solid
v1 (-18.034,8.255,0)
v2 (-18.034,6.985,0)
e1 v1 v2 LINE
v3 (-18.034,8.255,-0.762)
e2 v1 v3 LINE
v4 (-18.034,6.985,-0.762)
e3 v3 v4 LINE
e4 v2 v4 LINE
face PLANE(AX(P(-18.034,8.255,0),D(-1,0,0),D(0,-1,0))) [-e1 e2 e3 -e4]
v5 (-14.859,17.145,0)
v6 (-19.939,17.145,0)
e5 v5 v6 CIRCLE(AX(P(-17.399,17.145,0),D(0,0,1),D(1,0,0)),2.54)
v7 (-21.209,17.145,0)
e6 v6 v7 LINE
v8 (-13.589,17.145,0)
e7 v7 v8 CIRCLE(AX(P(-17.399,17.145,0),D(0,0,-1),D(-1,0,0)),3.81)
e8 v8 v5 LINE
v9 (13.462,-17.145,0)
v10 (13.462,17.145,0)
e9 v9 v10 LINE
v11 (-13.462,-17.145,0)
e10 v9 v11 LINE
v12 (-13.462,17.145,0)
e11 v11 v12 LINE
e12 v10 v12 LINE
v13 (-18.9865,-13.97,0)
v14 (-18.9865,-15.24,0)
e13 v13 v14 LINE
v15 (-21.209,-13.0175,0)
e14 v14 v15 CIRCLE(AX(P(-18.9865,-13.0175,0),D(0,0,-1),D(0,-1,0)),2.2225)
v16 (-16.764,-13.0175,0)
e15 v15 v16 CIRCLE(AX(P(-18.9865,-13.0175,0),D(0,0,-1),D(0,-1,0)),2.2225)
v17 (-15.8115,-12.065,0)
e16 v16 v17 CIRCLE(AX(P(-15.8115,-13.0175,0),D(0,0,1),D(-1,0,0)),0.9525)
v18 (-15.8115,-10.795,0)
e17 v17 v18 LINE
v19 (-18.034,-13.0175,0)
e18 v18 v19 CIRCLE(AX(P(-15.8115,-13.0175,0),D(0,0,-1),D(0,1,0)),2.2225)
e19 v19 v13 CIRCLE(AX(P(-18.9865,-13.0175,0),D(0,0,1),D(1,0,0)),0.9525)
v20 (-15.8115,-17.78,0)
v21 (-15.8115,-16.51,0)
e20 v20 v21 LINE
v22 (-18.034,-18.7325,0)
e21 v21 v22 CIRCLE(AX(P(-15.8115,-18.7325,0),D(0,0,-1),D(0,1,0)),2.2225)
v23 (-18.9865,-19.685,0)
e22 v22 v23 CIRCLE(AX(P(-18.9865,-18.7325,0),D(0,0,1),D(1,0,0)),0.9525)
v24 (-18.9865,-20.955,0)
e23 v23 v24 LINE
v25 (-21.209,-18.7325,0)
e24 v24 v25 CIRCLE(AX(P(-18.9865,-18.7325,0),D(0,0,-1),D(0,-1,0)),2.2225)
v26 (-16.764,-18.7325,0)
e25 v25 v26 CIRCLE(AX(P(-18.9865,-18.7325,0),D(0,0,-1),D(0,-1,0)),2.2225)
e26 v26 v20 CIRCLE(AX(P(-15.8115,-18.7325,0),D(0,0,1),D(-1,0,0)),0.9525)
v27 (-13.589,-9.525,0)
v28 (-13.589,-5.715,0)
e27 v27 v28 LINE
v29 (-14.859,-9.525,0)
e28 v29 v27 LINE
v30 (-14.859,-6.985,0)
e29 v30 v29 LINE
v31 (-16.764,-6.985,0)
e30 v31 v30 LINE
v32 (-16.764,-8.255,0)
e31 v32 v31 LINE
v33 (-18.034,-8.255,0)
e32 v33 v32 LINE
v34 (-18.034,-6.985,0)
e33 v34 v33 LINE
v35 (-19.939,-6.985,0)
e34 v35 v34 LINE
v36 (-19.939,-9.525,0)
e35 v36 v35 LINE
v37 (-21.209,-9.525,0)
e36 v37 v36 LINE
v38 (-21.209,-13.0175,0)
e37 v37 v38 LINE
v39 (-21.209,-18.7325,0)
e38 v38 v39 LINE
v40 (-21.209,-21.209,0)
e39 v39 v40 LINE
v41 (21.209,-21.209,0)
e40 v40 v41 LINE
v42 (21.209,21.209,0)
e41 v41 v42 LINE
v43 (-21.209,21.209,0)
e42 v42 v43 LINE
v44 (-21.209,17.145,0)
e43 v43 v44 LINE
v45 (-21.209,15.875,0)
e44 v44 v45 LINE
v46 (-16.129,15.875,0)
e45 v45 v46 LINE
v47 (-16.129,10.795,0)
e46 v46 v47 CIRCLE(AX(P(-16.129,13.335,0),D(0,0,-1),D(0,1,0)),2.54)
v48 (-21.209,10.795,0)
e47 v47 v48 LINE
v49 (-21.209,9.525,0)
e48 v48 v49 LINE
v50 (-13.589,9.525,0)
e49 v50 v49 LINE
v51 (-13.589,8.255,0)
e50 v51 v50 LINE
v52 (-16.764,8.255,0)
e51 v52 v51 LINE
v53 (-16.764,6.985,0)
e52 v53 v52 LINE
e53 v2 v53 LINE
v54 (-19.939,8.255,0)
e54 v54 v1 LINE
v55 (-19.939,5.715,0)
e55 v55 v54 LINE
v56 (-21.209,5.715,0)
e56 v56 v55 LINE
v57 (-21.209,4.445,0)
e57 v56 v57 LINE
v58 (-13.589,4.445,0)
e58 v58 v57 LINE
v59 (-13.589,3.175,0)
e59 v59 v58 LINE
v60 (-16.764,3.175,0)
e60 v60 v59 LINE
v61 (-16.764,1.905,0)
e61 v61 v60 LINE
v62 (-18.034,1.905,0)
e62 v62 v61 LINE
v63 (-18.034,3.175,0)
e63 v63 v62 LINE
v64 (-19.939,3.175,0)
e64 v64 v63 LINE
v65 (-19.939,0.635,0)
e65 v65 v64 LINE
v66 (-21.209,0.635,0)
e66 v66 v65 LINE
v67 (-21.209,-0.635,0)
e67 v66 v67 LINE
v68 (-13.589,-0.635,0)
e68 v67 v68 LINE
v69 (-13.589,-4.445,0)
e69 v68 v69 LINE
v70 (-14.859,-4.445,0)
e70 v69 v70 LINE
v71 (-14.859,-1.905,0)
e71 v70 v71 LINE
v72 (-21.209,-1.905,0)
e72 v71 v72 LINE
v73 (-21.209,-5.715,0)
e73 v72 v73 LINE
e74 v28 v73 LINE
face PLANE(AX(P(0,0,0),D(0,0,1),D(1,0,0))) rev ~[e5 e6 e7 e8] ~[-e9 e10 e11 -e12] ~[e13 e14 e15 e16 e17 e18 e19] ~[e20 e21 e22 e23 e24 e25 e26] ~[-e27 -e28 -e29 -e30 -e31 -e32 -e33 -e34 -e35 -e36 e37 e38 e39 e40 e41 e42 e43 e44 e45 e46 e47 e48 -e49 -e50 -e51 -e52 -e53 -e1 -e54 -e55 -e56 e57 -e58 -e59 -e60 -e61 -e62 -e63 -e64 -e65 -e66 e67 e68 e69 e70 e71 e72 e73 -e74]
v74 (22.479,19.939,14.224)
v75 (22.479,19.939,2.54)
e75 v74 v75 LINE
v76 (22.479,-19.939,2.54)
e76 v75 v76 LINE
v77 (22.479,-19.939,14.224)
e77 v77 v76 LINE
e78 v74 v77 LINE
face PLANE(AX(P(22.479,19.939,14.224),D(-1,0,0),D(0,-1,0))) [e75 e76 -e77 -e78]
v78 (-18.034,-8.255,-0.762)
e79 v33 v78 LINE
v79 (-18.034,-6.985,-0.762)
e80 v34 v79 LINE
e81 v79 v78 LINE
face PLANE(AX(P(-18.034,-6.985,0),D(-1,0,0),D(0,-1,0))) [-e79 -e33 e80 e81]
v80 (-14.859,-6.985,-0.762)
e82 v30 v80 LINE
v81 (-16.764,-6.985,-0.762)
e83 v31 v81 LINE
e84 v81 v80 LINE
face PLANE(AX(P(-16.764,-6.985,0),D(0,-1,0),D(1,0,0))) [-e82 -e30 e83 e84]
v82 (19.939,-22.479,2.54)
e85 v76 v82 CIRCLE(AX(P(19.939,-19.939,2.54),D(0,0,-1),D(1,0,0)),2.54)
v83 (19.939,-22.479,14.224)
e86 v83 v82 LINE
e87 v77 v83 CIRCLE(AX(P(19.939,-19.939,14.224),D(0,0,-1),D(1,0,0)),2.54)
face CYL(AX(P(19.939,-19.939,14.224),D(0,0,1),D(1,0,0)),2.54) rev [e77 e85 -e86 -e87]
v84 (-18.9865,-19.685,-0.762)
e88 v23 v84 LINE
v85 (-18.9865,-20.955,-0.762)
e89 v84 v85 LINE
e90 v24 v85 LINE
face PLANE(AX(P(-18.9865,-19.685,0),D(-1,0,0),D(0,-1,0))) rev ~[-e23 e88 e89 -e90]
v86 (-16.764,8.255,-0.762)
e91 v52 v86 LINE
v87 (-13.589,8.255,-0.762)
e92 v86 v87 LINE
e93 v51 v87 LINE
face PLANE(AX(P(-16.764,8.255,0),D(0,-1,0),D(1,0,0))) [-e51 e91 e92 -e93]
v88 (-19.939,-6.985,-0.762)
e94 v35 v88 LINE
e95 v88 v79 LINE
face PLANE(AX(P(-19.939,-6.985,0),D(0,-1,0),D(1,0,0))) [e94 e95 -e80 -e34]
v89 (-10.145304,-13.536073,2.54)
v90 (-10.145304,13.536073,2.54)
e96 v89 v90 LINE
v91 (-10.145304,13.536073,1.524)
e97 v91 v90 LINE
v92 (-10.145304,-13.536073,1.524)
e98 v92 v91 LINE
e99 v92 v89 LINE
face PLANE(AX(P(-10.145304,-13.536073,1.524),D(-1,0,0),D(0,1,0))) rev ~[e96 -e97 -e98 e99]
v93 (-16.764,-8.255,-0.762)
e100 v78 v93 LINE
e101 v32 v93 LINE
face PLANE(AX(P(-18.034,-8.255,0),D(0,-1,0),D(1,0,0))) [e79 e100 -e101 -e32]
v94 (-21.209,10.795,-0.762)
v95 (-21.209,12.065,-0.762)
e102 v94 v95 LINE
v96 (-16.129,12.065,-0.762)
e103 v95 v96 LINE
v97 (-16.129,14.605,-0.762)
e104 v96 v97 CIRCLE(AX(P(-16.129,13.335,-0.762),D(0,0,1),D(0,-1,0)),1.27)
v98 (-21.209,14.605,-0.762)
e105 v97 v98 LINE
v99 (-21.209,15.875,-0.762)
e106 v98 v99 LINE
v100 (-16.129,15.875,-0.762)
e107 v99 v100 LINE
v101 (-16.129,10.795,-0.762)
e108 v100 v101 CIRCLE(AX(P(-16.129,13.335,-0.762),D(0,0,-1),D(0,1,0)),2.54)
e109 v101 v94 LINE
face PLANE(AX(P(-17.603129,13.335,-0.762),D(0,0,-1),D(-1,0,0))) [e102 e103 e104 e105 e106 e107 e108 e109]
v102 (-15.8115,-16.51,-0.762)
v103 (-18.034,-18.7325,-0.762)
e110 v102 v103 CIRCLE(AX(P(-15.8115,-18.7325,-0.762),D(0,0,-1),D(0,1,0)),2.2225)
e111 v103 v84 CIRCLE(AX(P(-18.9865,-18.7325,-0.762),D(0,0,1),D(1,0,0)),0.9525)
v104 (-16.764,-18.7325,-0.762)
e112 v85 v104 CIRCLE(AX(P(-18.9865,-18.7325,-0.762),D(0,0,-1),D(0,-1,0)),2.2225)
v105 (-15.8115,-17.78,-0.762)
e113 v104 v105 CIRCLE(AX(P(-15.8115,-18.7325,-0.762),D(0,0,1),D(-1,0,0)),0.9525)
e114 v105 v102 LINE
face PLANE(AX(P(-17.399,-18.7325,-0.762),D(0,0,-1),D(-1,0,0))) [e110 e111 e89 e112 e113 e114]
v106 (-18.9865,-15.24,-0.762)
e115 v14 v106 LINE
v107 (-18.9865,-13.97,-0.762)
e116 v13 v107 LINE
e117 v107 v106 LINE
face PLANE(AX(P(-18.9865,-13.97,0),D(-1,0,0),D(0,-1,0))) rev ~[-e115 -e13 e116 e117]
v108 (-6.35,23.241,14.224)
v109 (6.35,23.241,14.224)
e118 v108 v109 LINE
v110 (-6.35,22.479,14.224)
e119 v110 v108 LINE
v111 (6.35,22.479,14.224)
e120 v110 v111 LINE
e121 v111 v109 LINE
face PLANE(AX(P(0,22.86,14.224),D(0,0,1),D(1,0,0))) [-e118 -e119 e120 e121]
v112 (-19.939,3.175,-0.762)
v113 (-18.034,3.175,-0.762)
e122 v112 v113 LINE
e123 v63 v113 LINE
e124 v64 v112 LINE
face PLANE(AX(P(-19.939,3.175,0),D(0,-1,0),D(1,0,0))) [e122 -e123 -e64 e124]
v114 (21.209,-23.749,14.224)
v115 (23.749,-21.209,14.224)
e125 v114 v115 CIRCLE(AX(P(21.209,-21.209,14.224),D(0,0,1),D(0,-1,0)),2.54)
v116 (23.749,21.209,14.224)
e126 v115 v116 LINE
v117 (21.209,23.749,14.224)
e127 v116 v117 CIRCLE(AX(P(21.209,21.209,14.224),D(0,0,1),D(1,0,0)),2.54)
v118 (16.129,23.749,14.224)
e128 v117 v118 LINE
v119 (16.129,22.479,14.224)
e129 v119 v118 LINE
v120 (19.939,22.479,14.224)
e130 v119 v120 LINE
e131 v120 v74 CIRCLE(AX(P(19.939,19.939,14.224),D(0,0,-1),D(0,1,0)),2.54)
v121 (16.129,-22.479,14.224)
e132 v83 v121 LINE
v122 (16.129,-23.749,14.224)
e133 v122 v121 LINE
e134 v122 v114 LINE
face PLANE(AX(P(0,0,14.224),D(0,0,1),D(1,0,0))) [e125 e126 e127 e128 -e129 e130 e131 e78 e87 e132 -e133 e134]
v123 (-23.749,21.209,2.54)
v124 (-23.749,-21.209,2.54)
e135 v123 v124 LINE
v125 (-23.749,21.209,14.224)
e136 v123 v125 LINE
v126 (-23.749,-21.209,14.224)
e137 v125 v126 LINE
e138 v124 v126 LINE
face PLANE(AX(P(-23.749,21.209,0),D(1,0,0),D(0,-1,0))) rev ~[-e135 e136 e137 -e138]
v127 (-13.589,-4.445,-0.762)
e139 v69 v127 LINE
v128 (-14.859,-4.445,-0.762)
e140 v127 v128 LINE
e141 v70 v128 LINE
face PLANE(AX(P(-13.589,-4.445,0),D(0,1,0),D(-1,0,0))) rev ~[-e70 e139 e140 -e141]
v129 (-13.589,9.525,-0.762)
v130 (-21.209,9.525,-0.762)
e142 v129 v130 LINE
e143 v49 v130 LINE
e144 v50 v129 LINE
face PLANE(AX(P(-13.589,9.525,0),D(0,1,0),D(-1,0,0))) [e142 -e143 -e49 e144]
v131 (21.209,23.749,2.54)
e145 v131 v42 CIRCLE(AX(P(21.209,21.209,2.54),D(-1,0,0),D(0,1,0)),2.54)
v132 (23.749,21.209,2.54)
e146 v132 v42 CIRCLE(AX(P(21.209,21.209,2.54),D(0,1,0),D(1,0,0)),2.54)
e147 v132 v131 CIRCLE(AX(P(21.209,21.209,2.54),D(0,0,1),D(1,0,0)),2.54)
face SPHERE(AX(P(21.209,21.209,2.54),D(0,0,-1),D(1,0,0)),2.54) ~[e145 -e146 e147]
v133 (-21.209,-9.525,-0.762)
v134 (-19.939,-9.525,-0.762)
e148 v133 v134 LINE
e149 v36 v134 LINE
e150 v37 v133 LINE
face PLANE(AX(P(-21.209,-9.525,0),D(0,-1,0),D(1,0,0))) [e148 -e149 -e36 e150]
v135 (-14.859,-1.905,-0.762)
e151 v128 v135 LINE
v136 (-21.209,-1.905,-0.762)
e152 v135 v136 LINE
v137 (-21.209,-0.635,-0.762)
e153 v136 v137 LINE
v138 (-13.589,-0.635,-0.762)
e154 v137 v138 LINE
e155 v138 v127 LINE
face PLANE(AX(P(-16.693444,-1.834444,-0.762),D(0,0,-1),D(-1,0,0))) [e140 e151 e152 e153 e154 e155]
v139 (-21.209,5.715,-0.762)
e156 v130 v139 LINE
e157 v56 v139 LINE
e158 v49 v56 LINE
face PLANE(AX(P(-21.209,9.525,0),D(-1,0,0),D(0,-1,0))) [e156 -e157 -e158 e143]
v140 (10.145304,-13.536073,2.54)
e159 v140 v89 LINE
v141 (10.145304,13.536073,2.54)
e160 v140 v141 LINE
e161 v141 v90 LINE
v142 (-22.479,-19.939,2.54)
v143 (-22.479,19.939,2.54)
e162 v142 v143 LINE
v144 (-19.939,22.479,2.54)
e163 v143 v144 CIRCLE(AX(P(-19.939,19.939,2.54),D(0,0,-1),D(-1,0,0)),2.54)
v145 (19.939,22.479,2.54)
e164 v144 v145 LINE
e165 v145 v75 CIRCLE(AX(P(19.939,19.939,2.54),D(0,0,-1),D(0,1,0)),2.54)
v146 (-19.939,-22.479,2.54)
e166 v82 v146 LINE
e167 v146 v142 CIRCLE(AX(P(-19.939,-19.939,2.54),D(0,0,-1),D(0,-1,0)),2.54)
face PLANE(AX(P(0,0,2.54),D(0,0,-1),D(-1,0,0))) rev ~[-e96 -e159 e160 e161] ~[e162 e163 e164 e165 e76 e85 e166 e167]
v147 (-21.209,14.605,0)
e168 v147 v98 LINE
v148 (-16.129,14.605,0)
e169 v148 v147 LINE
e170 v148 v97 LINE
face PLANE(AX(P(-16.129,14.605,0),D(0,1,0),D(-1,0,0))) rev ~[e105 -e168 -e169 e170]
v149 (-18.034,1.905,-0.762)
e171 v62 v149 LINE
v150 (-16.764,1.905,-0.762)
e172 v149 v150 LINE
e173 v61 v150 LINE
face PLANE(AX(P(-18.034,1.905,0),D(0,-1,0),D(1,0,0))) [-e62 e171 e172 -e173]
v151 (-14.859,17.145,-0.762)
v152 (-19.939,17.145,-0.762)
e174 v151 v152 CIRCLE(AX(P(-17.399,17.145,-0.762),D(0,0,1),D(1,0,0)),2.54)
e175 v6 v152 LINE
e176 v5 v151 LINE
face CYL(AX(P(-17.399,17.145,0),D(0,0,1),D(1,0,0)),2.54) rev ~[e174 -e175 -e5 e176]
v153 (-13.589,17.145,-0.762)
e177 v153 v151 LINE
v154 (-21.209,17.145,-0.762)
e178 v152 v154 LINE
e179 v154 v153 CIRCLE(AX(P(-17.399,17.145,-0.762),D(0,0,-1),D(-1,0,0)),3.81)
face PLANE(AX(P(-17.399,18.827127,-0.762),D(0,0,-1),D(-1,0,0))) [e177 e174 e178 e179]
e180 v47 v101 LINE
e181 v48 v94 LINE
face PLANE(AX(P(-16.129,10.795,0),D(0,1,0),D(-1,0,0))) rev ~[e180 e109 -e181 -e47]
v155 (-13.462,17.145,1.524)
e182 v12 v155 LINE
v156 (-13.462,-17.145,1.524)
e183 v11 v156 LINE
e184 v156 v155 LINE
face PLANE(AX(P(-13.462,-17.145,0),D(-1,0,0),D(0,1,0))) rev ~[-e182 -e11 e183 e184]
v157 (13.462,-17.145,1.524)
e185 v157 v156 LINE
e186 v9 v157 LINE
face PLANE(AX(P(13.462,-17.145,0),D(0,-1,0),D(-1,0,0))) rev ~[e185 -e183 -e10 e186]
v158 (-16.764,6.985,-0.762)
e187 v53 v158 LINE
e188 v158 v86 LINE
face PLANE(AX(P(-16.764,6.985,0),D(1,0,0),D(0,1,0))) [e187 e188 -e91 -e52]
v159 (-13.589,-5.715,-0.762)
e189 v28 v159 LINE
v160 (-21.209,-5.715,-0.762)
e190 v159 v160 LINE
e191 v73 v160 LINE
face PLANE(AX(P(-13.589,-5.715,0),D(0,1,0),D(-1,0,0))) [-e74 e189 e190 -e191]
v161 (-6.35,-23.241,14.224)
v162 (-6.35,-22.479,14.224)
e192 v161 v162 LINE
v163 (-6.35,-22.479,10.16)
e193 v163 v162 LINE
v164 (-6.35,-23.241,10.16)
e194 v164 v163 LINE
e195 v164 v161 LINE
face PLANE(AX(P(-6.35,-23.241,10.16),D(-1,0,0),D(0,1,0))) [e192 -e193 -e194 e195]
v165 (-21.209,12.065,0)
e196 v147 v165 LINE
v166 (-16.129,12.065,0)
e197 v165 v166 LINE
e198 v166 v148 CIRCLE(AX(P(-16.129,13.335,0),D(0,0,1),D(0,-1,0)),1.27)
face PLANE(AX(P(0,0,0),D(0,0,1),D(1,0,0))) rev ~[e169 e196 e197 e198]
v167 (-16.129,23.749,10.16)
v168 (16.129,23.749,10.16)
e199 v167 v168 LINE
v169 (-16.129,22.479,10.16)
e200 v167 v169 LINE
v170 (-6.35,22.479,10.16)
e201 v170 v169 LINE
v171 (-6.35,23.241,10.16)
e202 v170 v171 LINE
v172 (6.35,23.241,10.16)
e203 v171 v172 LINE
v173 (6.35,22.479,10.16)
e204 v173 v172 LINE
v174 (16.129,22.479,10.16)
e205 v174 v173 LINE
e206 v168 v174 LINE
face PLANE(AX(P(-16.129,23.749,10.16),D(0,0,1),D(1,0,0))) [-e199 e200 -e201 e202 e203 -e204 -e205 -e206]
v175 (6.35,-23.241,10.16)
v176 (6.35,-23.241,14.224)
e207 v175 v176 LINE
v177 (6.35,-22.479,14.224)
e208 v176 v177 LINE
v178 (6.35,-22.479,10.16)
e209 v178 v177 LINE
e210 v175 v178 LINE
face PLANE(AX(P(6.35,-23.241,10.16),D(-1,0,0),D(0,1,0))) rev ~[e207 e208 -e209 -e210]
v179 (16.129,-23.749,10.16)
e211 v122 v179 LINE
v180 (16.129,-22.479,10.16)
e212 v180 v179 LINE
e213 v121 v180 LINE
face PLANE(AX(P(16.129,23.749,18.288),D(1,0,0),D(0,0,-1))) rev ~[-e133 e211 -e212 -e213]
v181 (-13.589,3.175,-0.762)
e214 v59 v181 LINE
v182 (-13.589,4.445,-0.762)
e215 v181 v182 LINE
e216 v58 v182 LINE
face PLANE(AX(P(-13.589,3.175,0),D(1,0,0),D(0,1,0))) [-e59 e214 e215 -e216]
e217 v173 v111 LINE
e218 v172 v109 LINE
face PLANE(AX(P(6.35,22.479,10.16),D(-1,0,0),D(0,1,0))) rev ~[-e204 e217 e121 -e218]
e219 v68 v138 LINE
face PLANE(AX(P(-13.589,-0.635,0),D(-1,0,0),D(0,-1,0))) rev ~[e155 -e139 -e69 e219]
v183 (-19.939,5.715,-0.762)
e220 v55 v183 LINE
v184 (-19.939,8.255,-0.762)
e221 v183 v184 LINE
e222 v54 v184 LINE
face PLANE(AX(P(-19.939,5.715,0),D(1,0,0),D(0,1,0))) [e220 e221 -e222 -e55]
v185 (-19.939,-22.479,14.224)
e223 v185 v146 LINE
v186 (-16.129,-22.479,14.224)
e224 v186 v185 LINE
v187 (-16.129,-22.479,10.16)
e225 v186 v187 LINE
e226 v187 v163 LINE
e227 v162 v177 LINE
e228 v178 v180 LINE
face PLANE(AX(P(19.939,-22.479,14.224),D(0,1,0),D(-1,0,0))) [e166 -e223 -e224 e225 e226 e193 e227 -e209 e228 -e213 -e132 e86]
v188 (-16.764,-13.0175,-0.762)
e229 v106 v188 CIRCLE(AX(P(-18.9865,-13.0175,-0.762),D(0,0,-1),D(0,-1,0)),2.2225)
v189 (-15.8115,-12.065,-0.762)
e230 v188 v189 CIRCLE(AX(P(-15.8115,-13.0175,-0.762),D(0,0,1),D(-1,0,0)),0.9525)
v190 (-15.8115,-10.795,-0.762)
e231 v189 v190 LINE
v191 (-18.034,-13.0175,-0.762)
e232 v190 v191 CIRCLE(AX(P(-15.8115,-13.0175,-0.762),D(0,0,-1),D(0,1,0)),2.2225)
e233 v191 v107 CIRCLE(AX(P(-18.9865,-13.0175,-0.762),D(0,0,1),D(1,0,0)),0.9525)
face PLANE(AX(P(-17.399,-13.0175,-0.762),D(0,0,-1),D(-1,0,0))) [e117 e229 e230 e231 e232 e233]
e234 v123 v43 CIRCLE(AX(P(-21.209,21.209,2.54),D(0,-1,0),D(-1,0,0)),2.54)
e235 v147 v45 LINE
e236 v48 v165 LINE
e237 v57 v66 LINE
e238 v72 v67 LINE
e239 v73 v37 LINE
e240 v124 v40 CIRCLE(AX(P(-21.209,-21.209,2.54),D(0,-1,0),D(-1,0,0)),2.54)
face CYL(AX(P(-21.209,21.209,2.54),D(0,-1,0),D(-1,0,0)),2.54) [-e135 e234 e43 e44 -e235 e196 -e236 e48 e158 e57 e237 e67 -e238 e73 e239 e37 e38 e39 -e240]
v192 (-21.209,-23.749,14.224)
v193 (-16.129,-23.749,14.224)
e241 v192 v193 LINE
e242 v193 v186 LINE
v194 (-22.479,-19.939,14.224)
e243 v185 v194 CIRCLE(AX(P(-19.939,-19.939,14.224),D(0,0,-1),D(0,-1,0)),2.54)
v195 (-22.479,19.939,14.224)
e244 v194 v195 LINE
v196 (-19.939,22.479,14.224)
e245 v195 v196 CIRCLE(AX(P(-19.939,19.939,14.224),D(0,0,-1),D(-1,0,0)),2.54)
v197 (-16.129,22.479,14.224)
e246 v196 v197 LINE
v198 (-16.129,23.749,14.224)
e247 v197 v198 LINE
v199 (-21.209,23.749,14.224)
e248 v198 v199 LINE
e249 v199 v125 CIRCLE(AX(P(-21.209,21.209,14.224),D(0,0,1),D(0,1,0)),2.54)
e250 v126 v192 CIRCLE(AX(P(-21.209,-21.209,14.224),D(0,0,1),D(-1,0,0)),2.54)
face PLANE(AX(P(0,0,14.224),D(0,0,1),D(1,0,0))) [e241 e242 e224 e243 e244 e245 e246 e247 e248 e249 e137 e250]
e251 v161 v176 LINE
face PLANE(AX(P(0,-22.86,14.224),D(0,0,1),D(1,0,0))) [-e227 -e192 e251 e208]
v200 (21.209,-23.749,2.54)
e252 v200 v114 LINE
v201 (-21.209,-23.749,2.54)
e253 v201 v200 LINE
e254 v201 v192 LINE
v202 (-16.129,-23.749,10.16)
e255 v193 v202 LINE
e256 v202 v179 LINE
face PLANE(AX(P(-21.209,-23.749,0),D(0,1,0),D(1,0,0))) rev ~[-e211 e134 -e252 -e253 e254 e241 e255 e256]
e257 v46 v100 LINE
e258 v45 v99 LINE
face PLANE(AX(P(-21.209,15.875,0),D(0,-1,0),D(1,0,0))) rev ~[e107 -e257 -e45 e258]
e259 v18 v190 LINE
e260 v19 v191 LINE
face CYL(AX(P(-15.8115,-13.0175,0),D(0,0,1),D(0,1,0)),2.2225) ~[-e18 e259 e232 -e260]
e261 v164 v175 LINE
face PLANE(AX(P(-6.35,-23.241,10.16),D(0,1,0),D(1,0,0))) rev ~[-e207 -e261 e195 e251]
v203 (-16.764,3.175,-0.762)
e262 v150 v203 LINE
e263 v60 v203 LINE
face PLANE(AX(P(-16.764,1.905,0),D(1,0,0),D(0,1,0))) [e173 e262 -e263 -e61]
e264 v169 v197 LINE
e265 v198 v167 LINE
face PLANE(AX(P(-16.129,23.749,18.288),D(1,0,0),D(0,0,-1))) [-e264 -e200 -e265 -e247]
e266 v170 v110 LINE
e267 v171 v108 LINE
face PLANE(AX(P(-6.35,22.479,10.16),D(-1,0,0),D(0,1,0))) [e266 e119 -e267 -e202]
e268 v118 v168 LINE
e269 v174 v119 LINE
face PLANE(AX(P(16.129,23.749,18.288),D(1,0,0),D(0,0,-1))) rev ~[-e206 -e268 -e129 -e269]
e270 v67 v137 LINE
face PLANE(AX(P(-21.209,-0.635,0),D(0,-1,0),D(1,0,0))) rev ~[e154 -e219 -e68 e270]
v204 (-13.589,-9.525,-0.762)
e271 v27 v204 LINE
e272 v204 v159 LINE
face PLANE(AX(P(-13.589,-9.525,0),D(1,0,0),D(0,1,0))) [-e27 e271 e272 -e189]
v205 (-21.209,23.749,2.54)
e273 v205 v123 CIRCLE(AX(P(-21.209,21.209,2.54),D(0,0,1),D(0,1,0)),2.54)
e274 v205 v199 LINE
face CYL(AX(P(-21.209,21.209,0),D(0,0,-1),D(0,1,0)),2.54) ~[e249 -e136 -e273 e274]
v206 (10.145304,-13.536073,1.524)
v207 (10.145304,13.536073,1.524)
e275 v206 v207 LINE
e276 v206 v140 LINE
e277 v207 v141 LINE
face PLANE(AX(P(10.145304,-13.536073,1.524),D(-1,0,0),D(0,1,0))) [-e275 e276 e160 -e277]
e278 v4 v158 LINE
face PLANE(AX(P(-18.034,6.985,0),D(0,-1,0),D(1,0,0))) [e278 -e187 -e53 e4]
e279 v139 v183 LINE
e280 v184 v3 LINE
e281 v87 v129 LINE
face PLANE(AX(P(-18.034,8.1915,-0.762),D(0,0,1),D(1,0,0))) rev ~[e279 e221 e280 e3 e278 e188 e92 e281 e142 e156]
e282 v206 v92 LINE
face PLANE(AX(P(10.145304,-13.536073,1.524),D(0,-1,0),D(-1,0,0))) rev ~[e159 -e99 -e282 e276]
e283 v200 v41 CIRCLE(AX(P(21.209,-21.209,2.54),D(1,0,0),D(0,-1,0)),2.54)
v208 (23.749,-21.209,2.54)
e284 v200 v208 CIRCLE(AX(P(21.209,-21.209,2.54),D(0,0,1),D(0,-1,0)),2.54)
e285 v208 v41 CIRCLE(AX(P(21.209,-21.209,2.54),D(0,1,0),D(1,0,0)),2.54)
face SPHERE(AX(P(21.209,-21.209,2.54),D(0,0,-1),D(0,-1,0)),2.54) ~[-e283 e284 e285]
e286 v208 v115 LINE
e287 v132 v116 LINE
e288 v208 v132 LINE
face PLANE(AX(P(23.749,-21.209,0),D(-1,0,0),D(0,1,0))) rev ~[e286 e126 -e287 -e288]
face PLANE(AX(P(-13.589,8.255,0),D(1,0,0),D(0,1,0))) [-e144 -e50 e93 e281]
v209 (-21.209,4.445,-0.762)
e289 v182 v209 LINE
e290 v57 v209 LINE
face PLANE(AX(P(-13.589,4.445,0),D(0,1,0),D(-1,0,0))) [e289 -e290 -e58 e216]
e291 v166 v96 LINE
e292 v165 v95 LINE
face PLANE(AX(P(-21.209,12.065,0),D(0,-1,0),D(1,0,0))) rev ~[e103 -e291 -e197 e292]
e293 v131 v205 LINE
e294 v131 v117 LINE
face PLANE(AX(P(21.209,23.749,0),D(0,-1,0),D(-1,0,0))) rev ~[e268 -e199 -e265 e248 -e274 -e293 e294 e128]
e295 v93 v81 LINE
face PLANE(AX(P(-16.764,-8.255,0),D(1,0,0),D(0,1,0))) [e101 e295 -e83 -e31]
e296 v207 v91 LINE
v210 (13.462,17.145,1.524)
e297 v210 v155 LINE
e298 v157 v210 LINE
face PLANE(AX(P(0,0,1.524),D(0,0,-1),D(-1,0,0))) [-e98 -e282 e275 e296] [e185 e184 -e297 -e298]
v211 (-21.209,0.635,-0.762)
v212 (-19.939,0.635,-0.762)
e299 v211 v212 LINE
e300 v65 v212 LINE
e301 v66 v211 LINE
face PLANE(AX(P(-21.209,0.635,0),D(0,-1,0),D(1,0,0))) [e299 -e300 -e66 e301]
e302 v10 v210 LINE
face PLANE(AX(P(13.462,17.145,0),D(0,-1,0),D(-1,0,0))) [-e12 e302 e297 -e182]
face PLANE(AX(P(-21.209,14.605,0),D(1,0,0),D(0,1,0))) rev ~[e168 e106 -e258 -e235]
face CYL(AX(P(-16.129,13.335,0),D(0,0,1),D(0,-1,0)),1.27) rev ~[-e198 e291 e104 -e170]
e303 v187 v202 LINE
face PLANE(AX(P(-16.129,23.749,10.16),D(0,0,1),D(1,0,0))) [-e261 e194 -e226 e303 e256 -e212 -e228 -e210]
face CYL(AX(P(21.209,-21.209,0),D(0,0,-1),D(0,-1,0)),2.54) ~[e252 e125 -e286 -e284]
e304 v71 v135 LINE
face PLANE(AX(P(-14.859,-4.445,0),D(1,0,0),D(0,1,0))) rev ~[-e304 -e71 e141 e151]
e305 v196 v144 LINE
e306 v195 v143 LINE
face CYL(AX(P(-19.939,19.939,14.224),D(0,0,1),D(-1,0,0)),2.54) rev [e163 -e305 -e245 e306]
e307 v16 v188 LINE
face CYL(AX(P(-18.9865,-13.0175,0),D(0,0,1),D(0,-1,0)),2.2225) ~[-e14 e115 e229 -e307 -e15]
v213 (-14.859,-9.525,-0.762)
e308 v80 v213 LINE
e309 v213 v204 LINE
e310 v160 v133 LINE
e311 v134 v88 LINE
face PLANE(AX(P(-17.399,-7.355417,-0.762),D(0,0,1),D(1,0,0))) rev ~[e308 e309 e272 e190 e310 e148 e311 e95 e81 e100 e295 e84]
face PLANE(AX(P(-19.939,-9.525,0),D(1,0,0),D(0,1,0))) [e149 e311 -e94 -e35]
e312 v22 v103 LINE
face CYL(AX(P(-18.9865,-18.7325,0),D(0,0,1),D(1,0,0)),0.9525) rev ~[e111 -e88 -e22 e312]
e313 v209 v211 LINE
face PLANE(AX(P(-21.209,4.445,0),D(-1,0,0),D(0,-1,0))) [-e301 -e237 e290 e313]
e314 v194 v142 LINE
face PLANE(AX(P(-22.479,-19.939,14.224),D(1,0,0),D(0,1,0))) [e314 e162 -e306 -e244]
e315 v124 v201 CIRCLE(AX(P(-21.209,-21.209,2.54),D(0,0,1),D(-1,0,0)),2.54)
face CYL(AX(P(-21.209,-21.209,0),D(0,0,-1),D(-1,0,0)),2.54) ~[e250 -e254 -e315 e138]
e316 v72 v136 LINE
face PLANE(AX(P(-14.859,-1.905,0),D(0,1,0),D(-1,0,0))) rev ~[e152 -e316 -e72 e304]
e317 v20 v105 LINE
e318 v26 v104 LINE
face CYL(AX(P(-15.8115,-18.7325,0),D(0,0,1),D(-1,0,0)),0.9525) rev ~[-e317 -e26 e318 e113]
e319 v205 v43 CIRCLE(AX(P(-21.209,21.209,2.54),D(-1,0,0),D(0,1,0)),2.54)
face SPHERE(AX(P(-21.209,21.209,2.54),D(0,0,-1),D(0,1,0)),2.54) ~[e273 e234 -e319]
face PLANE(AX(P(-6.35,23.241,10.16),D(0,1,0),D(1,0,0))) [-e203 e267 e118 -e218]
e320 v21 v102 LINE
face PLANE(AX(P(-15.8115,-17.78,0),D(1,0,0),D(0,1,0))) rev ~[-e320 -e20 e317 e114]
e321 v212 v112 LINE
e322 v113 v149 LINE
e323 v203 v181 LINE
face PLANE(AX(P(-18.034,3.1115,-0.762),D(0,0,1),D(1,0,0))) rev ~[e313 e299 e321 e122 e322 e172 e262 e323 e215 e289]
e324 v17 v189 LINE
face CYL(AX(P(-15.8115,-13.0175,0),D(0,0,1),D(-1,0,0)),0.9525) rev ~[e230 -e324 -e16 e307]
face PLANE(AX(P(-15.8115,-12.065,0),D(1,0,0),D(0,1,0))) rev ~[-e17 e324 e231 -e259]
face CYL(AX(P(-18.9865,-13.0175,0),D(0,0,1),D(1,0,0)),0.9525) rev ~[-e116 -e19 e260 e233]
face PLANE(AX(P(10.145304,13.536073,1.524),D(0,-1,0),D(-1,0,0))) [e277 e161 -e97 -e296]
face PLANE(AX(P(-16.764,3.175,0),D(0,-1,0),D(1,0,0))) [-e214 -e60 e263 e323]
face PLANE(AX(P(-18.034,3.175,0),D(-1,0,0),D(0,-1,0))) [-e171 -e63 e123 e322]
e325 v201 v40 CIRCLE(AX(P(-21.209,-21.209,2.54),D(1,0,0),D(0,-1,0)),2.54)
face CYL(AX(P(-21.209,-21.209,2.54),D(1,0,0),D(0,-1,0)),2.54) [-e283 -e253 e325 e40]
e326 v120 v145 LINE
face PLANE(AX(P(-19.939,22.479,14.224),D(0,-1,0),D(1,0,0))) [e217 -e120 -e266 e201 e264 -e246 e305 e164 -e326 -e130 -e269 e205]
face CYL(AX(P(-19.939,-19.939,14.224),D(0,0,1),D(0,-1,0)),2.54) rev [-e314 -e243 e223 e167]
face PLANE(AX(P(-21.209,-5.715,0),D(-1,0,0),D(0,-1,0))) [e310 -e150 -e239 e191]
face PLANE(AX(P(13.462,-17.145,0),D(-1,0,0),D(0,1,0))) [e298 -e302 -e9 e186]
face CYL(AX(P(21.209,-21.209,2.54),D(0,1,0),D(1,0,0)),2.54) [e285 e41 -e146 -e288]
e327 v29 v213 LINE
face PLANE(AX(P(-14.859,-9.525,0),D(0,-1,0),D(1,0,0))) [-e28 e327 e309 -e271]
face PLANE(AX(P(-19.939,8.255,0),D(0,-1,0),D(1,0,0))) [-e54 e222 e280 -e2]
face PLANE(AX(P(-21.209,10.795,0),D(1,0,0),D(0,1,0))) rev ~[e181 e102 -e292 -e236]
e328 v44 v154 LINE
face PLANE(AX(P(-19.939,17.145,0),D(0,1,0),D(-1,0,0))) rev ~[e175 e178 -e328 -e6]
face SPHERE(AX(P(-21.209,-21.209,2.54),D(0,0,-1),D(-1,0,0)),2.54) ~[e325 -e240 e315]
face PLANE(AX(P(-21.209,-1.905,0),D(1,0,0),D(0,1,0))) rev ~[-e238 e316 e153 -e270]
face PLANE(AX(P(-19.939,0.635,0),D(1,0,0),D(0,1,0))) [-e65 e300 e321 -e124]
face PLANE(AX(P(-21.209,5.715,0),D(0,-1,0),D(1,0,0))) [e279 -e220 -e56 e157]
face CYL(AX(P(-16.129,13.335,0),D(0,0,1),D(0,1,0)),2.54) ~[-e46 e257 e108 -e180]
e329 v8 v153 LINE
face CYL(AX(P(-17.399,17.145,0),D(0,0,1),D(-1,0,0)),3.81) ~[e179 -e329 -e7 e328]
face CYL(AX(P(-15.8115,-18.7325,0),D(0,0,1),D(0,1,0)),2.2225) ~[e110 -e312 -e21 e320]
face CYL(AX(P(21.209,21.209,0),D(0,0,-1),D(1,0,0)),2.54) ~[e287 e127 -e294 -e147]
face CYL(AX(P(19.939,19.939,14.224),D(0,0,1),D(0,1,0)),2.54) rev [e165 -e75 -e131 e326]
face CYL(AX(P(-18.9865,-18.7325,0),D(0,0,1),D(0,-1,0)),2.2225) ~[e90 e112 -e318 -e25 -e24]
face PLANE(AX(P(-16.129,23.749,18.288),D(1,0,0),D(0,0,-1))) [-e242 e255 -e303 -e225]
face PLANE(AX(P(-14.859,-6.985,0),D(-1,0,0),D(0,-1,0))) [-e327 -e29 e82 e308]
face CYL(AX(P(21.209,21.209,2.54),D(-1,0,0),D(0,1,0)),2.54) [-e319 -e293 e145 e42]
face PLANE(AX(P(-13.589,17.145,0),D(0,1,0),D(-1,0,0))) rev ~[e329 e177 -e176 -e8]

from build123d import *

# Parameters (mm, degrees)
BOSS_EXTRUDE1_DEPTH     = 14.224
CUT_EXTRUDE1_DEPTH      = 11.684
FILLET1_R               = 2.54
SKETCH3_W               = 32.258
SKETCH3_H               = 8.128
CUT_EXTRUDE2_DEPTH      = 1
CUT_EXTRUDE2_DEPTH_BACK = 48.498
SKETCH5_W               = 26.924
SKETCH5_H               = 34.29
CUT_EXTRUDE4_DEPTH      = 1.524
SKETCH6_W               = 20.290608306
SKETCH6_H               = 27.072145664
CUT_EXTRUDE5_DEPTH      = 1.524
BOSS_EXTRUDE2_DEPTH     = 0.762
SKETCH8_W               = 12.7
SKETCH8_H               = 0.762
BOSS_EXTRUDE3_DEPTH     = 4.064


with BuildPart() as part:
    # Sketch1 → Boss-Extrude1 (new body)
    with BuildSketch(Plane.XY):
        with BuildLine():
            Line((-21.209, -23.749), (21.209, -23.749))
            ThreePointArc((21.209, -23.749), (23.005051224, -23.005051224), (23.749, -21.209))
            Line((23.749, -21.209), (23.749, 21.209))
            ThreePointArc((23.749, 21.209), (23.005051224, 23.005051224), (21.209, 23.749))
            Line((21.209, 23.749), (-21.209, 23.749))
            ThreePointArc((-21.209, 23.749), (-23.005051224, 23.005051224), (-23.749, 21.209))
            Line((-23.749, 21.209), (-23.749, -21.209))
            ThreePointArc((-23.749, -21.209), (-23.005051224, -23.005051224), (-21.209, -23.749))
        make_face()
    extrude(amount=BOSS_EXTRUDE1_DEPTH)

    # Sketch2 → Cut-Extrude1 (cut)
    with BuildSketch(Plane.XY.offset(14.224)):
        with BuildLine():
            Line((19.939, -22.479), (-19.939, -22.479))
            ThreePointArc((-19.939, -22.479), (-21.735051224, -21.735051224), (-22.479, -19.939))
            Line((-22.479, -19.939), (-22.479, 19.939))
            ThreePointArc((-22.479, 19.939), (-21.735051224, 21.735051224), (-19.939, 22.479))
            Line((-19.939, 22.479), (19.939, 22.479))
            ThreePointArc((19.939, 22.479), (21.735051224, 21.735051224), (22.479, 19.939))
            Line((22.479, 19.939), (22.479, -19.939))
            ThreePointArc((22.479, -19.939), (21.735051224, -21.735051224), (19.939, -22.479))
        make_face()
    extrude(amount=-CUT_EXTRUDE1_DEPTH, mode=Mode.SUBTRACT)

    # Fillet1
    fillet1_edges = [part.edges().sort_by_distance(p)[0] for p in [
        (0, -23.749, 0),
        (-23.005051224, -23.005051224, 0),
        (-23.749, 0, 0),
        (-23.005051224, 23.005051224, 0),
        (0, 23.749, 0),
        (23.005051224, 23.005051224, 0),
        (23.749, 0, 0),
        (23.005051224, -23.005051224, 0),
    ]]
    fillet(fillet1_edges, radius=FILLET1_R)

    # Sketch3 → Cut-Extrude2 (cut, two sides)
    with BuildSketch(Plane(origin=(0, 23.749, 0), x_dir=(1, 0, 0), z_dir=(0, 1, 0))) as cut_extrude2_sk:
        with Locations((0, -14.224)):
            Rectangle(SKETCH3_W, SKETCH3_H)
    extrude(amount=CUT_EXTRUDE2_DEPTH, mode=Mode.SUBTRACT)
    extrude(cut_extrude2_sk.sketch, amount=-CUT_EXTRUDE2_DEPTH_BACK, mode=Mode.SUBTRACT)

    # Sketch5 → Cut-Extrude4 (cut)
    with BuildSketch(Plane(origin=(0, 0, 0), x_dir=(-1, 0, 0), z_dir=(0, 0, -1))):
        Rectangle(SKETCH5_W, SKETCH5_H)
    extrude(amount=-CUT_EXTRUDE4_DEPTH, mode=Mode.SUBTRACT)

    # Sketch6 → Cut-Extrude5 (cut)
    with BuildSketch(Plane(origin=(0, 0, 1.524), x_dir=(-1, 0, 0), z_dir=(0, 0, -1))):
        Rectangle(SKETCH6_W, SKETCH6_H)
    extrude(amount=-CUT_EXTRUDE5_DEPTH, mode=Mode.SUBTRACT)

    # Sketch7 → Boss-Extrude2 (add)
    with BuildSketch(Plane(origin=(0, 0, 0), x_dir=(-1, 0, 0), z_dir=(0, 0, -1))):
        with BuildLine():
            Line((19.939, 17.145), (21.209, 17.145))
            ThreePointArc((21.209, 17.145), (17.399, 20.955), (13.589, 17.145))
            Line((13.589, 17.145), (14.859, 17.145))
            ThreePointArc((14.859, 17.145), (17.399, 19.685), (19.939, 17.145))
        make_face()
        with BuildLine():
            Line((21.209, 15.875), (16.129, 15.875))
            ThreePointArc((16.129, 15.875), (13.589, 13.335), (16.129, 10.795))
            Line((16.129, 10.795), (21.209, 10.795))
            Line((21.209, 10.795), (21.209, 12.065))
            Line((21.209, 12.065), (16.129, 12.065))
            ThreePointArc((16.129, 12.065), (14.859, 13.335), (16.129, 14.605))
            Line((16.129, 14.605), (21.209, 14.605))
            Line((21.209, 14.605), (21.209, 15.875))
        make_face()
        Polygon((13.589, 9.525), (21.209, 9.525), (21.209, 5.715), (19.939, 5.715), (19.939, 8.255), (18.034, 8.255), (18.034, 6.985), (16.764, 6.985), (16.764, 8.255), (13.589, 8.255), align=None)
        Polygon((13.589, 4.445), (21.209, 4.445), (21.209, 0.635), (19.939, 0.635), (19.939, 3.175), (18.034, 3.175), (18.034, 1.905), (16.764, 1.905), (16.764, 3.175), (13.589, 3.175), align=None)
        Polygon((21.209, -0.635), (13.589, -0.635), (13.589, -4.445), (14.859, -4.445), (14.859, -1.905), (21.209, -1.905), align=None)
        Polygon((13.589, -5.715), (21.209, -5.715), (21.209, -9.525), (19.939, -9.525), (19.939, -6.985), (18.034, -6.985), (18.034, -8.255), (16.764, -8.255), (16.764, -6.985), (14.859, -6.985), (14.859, -9.525), (13.589, -9.525), align=None)
        with BuildLine():
            Line((18.9865, -13.97), (18.9865, -15.24))
            ThreePointArc((18.9865, -15.24), (20.558044821, -11.445955179), (16.764, -13.0175))
            ThreePointArc((16.764, -13.0175), (15.137980791, -13.691019209), (15.8115, -12.065))
            Line((15.8115, -12.065), (15.8115, -10.795))
            ThreePointArc((15.8115, -10.795), (14.239955179, -14.589044821), (18.034, -13.0175))
            ThreePointArc((18.034, -13.0175), (19.660019209, -12.343980791), (18.9865, -13.97))
        make_face()
        with BuildLine():
            Line((15.8115, -17.78), (15.8115, -16.51))
            ThreePointArc((15.8115, -16.51), (14.239955179, -20.304044821), (18.034, -18.7325))
            ThreePointArc((18.034, -18.7325), (19.660019209, -18.058980791), (18.9865, -19.685))
            Line((18.9865, -19.685), (18.9865, -20.955))
            ThreePointArc((18.9865, -20.955), (20.558044821, -17.160955179), (16.764, -18.7325))
            ThreePointArc((16.764, -18.7325), (15.137980791, -19.406019209), (15.8115, -17.78))
        make_face()
    extrude(amount=BOSS_EXTRUDE2_DEPTH)

    # Sketch8 → Boss-Extrude3 (add)
    with BuildSketch(Plane.XY.offset(10.16)):
        with Locations((0, 22.86)):
            Rectangle(SKETCH8_W, SKETCH8_H)
        with Locations((0, -22.86)):
            Rectangle(SKETCH8_W, SKETCH8_H)
    extrude(amount=BOSS_EXTRUDE3_DEPTH)


solid = part.part
